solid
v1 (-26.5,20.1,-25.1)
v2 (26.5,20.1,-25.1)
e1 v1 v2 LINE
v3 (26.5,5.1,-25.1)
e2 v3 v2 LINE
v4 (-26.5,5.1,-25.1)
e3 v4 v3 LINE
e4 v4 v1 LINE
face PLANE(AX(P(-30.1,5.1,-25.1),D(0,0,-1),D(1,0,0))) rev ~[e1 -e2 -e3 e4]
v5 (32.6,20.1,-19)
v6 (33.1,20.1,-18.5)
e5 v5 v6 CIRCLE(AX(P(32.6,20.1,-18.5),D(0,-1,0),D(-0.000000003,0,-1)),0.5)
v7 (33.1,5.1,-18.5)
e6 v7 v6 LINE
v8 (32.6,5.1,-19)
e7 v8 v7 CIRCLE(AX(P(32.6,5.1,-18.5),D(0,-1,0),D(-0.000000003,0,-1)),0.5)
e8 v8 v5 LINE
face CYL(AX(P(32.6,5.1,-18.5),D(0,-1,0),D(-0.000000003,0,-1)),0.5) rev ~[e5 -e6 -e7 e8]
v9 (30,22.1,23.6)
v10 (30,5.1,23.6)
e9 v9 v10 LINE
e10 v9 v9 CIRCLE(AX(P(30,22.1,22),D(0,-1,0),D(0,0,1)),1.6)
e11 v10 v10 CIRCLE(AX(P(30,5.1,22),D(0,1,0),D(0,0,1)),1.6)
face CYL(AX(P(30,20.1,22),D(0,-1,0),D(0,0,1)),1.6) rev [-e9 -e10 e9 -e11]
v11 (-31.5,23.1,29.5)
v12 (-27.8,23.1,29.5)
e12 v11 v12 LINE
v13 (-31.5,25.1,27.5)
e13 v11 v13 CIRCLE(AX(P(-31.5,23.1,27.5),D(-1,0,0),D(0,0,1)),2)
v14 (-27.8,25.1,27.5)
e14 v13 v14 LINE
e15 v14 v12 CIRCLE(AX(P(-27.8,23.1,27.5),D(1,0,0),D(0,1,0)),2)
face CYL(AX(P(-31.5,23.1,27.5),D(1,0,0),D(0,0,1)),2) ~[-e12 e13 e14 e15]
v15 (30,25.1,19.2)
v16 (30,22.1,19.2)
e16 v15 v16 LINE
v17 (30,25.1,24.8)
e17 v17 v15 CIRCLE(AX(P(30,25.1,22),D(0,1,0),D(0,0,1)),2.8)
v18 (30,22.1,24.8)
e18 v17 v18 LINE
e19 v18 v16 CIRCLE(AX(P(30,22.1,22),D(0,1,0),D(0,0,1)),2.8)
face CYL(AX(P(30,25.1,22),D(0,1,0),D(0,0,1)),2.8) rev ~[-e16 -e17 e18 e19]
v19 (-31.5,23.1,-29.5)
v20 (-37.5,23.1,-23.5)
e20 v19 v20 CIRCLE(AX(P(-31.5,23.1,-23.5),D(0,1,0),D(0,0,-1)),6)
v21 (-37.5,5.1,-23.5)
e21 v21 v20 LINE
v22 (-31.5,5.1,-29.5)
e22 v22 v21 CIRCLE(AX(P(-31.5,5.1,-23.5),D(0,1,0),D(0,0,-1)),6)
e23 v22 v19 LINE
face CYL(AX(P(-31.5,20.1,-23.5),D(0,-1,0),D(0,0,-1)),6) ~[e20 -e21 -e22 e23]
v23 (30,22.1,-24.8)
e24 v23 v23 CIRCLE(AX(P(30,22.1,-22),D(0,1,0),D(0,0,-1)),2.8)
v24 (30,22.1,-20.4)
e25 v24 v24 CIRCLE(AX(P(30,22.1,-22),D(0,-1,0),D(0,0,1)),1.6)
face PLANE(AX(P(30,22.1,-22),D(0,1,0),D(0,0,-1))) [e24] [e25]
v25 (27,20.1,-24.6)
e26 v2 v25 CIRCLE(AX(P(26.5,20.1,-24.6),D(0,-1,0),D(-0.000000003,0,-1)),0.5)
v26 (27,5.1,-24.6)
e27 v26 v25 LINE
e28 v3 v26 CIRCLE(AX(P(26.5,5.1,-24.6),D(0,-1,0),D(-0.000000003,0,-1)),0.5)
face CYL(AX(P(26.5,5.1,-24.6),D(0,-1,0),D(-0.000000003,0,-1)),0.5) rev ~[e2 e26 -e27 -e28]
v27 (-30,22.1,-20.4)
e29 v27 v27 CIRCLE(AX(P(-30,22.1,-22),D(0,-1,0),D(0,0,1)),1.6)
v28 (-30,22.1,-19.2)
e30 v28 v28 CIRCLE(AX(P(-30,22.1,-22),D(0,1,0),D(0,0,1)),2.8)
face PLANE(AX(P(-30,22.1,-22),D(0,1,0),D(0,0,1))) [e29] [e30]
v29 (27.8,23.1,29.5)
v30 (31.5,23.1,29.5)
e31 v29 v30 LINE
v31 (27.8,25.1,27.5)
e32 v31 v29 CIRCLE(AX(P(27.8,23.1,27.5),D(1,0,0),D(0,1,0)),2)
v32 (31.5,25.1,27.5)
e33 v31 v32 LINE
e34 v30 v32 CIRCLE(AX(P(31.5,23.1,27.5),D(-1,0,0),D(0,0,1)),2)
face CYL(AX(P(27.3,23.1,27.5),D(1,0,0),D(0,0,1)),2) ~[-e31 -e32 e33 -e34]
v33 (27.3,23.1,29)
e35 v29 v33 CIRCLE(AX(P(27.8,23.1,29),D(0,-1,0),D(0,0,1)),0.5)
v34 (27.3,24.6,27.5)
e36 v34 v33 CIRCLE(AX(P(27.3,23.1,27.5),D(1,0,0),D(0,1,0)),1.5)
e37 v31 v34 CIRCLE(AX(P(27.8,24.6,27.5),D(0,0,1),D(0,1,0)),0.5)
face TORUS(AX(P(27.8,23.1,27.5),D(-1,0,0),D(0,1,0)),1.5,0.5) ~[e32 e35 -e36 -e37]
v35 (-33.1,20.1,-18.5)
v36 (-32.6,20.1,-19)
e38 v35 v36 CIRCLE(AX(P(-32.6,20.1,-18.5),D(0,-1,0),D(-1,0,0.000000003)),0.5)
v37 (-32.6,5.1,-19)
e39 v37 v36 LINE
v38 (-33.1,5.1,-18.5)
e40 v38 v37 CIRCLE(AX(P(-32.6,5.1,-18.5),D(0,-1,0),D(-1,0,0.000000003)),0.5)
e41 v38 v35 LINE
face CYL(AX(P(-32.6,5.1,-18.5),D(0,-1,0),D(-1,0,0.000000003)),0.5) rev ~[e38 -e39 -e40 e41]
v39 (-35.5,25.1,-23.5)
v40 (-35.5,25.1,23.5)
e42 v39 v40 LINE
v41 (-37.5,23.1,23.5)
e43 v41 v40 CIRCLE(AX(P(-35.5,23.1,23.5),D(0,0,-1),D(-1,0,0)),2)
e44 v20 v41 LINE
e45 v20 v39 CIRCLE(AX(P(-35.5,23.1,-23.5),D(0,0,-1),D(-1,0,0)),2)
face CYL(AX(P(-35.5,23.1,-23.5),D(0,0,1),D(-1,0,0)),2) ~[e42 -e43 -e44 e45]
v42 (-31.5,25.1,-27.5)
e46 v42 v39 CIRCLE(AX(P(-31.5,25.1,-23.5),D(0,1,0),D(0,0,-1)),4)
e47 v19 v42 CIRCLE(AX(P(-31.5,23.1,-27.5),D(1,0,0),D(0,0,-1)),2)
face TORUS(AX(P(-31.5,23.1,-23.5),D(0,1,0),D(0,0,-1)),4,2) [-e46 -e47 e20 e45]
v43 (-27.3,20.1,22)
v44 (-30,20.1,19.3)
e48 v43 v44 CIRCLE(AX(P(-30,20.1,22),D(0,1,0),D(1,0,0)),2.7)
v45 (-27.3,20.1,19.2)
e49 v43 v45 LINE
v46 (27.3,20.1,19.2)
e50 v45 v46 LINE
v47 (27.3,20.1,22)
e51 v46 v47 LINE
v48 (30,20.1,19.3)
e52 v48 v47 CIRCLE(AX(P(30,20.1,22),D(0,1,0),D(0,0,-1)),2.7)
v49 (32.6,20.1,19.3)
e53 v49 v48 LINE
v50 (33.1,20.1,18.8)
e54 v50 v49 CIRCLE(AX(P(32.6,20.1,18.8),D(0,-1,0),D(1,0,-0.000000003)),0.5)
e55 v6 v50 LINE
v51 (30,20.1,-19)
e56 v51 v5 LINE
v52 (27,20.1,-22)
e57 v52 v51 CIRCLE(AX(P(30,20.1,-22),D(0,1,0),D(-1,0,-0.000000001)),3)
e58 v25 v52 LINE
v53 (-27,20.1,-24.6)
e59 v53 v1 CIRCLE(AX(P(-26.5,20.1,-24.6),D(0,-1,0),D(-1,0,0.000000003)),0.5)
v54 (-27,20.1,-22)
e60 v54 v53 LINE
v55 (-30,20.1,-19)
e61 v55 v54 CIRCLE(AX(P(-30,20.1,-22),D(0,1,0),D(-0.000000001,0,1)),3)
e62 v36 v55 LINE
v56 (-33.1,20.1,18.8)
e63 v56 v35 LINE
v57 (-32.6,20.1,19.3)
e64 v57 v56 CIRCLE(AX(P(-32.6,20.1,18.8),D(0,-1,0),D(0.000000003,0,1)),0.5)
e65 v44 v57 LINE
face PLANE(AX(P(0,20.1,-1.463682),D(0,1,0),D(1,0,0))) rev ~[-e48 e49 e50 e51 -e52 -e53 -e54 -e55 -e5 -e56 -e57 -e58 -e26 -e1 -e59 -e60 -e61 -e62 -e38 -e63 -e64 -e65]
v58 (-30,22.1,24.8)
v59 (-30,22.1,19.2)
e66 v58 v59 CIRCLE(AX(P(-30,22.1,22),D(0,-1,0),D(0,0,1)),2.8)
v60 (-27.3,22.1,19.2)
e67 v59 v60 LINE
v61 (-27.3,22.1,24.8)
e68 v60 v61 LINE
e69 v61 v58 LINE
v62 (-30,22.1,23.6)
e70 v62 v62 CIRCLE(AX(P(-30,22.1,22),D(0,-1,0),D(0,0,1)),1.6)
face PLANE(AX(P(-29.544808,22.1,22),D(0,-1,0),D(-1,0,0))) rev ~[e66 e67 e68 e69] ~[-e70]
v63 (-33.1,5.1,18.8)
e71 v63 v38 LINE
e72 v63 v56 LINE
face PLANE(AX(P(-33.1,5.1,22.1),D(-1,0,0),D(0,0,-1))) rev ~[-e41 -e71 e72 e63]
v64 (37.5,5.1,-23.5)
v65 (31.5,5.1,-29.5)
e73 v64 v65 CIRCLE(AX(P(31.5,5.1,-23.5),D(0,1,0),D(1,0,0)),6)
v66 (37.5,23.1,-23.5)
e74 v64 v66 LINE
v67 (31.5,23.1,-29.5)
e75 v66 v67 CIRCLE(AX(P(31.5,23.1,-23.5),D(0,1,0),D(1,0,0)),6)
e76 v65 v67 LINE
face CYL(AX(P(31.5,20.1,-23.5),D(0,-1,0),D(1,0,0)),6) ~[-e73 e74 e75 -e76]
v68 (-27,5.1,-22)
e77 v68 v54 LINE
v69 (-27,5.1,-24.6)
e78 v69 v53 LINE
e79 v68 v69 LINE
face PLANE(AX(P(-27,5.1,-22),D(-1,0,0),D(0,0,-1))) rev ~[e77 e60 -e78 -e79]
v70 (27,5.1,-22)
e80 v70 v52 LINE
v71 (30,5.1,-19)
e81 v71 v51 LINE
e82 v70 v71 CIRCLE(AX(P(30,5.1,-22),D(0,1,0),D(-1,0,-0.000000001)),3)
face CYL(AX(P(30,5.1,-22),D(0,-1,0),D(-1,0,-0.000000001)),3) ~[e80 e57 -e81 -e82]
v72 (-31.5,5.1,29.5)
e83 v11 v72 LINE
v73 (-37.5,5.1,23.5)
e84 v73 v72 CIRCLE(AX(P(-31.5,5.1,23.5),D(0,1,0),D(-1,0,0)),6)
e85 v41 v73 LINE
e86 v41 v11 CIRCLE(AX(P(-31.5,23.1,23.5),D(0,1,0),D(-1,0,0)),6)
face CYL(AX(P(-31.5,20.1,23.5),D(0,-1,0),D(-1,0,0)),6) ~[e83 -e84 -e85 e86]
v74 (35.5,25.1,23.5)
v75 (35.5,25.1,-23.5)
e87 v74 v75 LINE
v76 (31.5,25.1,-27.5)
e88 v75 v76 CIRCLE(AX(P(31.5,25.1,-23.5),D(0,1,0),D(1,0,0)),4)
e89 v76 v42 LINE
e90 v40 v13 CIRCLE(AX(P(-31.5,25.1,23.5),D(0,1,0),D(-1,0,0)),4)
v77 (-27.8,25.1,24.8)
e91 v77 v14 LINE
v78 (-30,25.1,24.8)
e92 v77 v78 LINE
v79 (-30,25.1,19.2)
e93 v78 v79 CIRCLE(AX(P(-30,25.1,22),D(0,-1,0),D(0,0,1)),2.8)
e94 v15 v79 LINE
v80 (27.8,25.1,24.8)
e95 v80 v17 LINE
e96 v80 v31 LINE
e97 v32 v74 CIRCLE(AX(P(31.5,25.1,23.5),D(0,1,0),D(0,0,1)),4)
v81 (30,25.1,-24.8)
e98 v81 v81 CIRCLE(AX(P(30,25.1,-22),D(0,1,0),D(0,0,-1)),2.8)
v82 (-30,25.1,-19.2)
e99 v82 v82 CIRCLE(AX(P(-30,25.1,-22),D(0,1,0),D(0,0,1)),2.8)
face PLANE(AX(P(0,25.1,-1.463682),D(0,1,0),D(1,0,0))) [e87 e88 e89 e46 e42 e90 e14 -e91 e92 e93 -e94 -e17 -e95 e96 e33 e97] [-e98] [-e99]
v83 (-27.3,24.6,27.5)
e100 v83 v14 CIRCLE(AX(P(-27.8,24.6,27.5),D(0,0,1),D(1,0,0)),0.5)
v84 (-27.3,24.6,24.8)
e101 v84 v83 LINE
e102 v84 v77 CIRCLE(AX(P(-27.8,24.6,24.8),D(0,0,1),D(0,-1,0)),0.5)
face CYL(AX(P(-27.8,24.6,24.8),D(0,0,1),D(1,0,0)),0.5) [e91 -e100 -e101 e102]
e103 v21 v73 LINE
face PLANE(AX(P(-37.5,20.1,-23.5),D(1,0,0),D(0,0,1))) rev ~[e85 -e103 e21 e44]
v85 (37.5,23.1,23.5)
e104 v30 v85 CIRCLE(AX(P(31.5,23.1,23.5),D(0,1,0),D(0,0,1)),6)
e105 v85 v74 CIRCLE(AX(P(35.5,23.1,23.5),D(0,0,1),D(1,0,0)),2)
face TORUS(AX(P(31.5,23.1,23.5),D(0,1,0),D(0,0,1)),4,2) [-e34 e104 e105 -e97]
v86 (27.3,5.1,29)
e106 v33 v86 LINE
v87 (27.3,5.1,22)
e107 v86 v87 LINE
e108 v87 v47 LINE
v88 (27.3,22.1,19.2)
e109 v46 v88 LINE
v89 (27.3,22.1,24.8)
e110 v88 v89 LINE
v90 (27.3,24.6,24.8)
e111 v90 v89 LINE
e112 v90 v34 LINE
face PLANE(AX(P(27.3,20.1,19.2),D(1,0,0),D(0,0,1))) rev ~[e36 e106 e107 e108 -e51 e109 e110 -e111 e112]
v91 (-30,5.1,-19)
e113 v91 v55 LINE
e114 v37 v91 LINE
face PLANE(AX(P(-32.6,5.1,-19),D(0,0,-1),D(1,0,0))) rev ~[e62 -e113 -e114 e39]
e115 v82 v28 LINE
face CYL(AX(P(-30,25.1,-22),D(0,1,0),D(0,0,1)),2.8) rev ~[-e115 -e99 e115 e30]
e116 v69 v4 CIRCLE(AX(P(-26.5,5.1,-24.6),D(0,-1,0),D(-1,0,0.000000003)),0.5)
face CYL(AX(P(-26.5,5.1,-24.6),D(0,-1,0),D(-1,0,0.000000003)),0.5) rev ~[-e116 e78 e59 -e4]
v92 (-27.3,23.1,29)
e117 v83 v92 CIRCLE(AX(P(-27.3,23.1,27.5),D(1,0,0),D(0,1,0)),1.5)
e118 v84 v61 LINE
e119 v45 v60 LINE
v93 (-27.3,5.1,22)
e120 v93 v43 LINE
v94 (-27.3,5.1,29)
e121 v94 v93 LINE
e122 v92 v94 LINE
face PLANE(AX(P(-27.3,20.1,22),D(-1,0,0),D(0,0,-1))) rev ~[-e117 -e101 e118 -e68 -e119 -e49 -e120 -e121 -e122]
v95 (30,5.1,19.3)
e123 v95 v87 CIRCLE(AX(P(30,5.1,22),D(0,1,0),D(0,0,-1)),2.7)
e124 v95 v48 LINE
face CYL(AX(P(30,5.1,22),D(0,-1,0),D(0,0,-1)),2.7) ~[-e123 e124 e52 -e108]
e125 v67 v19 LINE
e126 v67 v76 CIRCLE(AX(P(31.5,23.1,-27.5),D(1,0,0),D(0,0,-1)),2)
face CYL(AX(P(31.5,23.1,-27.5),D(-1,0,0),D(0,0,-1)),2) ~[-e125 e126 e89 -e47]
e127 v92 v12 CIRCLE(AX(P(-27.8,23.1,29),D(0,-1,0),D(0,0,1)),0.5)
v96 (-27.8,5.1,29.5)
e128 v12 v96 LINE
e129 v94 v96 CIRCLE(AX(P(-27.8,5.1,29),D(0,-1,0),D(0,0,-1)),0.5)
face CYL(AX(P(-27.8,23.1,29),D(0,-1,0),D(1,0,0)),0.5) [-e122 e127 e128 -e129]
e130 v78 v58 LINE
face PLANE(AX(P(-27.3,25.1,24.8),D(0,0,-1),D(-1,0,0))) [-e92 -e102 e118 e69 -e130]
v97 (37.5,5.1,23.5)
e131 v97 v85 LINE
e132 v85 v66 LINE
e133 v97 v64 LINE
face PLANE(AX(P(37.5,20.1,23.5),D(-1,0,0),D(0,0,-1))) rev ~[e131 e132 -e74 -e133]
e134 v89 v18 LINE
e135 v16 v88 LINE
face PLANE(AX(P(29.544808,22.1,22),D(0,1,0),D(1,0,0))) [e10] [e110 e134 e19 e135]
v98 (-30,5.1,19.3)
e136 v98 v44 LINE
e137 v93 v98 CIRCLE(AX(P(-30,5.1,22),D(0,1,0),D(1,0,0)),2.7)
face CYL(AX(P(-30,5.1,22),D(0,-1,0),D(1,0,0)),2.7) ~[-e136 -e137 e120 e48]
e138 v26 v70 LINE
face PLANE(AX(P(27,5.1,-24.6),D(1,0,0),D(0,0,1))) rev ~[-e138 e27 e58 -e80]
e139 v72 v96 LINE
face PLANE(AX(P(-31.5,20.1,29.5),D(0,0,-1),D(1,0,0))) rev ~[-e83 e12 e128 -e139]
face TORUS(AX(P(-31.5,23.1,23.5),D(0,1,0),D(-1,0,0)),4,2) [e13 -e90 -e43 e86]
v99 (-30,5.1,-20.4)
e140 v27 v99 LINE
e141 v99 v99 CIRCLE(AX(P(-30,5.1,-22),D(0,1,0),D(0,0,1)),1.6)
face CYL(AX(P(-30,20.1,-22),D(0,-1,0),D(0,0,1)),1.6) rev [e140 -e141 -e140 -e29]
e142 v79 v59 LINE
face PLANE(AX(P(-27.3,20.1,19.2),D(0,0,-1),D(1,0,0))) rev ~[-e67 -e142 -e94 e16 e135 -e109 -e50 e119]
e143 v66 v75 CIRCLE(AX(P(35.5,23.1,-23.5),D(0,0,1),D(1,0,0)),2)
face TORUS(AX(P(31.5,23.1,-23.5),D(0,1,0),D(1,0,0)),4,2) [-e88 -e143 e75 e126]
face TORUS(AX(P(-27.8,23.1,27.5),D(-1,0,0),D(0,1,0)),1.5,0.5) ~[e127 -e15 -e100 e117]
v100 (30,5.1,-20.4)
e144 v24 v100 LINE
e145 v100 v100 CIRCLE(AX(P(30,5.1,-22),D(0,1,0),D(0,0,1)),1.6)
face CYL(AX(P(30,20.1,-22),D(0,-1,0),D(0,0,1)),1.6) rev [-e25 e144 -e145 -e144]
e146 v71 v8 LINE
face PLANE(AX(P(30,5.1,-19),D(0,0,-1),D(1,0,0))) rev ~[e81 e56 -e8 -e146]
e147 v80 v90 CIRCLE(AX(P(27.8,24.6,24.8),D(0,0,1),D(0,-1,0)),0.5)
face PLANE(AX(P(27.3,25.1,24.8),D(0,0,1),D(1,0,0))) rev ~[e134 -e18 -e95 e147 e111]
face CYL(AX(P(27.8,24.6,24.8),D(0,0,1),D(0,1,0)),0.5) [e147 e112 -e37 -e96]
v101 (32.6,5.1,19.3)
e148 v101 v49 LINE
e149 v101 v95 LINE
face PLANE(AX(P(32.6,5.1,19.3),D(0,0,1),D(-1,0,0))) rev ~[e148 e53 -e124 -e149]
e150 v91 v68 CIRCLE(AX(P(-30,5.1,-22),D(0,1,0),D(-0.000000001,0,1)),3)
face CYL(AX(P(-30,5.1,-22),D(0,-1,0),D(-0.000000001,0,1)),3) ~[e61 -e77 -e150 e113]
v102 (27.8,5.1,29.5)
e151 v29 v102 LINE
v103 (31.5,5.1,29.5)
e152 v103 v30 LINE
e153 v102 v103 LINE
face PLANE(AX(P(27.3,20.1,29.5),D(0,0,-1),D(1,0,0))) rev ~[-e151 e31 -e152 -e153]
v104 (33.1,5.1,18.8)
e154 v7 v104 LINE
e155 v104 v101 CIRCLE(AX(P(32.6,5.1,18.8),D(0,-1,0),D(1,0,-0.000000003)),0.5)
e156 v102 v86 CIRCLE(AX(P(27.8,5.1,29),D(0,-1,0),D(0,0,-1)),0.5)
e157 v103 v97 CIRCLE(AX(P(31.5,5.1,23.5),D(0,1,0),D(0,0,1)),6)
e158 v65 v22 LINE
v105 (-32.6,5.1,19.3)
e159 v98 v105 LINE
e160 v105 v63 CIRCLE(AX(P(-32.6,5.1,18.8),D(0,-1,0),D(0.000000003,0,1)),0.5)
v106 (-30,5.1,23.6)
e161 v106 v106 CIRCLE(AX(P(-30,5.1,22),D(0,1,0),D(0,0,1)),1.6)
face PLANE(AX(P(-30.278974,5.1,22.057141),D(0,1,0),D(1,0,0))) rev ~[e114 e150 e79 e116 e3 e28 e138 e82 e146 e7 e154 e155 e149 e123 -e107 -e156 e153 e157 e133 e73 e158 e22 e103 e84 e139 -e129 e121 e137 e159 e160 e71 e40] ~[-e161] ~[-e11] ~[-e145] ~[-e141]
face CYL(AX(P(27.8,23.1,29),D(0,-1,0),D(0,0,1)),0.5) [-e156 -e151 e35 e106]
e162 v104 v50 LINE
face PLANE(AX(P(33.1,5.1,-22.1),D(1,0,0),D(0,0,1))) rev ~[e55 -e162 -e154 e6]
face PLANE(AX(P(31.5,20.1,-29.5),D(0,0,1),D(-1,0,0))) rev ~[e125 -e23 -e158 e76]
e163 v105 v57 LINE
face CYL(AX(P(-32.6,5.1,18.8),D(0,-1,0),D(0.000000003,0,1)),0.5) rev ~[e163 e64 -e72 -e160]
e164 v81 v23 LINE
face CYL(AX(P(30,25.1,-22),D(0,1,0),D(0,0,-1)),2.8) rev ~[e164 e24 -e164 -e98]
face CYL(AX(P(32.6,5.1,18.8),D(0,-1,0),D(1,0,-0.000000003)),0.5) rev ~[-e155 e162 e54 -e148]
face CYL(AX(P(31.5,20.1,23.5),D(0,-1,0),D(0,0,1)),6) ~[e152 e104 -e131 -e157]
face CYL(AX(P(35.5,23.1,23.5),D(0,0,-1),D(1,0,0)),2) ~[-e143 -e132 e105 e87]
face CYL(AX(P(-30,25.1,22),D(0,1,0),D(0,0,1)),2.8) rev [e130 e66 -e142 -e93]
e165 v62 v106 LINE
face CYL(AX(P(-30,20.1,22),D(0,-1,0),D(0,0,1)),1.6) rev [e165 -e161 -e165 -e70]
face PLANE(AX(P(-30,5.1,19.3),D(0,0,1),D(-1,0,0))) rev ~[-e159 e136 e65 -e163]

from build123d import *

# Parameters (mm, degrees)
SKETCH2_R           = 1.6
BOSS_EXTRUDE1_DEPTH = 15
SKETCH3_R           = 1.6
BOSS_EXTRUDE2_DEPTH = 5
SKETCH4_R           = 2.8
CUT_EXTRUDE1_DEPTH  = 3
FILLET3_R           = 2
FILLET4_R           = 0.5


with BuildPart() as part:
    # Sketch2 → Boss-Extrude1 (new body)
    # profile 1 of 5: a face of its own
    with BuildSketch(Plane(origin=(0, 5.1, 0), x_dir=(1, 0, 0), z_dir=(0, 1, 0))):
        with BuildLine():
            Line((-27.3, -29.5), (-27.3, -25.1))
            Line((-27.3, -25.1), (-30.1, -25.1))
            ThreePointArc((-30.1, -25.1), (-32.221320344, -24.221320344), (-33.1, -22.1))
            Line((-33.1, -22.1), (-33.1, -18.8))
            Line((-33.1, -18.8), (-33.1, 18.5))
            Line((-33.1, 18.5), (-33.1, 22.1))
            ThreePointArc((-33.1, 22.1), (-32.221320344, 24.221320344), (-30.1, 25.1))
            Line((-30.1, 25.1), (-26.5, 25.1))
            Line((-26.5, 25.1), (26.5, 25.1))
            Line((26.5, 25.1), (30.1, 25.1))
            ThreePointArc((30.1, 25.1), (32.221320344, 24.221320344), (33.1, 22.1))
            Line((33.1, 22.1), (33.1, 18.5))
            Line((33.1, 18.5), (33.1, -18.8))
            Line((33.1, -18.8), (33.1, -22.1))
            ThreePointArc((33.1, -22.1), (32.221320344, -24.221320344), (30.1, -25.1))
            Line((30.1, -25.1), (27.3, -25.1))
            Line((27.3, -25.1), (27.3, -29.5))
            Line((27.3, -29.5), (31.5, -29.5))
            ThreePointArc((31.5, -29.5), (35.742640687, -27.742640687), (37.5, -23.5))
            Line((37.5, -23.5), (37.5, 23.5))
            ThreePointArc((37.5, 23.5), (35.742640687, 27.742640687), (31.5, 29.5))
            Line((31.5, 29.5), (-31.5, 29.5))
            ThreePointArc((-31.5, 29.5), (-35.742640687, 27.742640687), (-37.5, 23.5))
            Line((-37.5, 23.5), (-37.5, -23.5))
            ThreePointArc((-37.5, -23.5), (-35.742640687, -27.742640687), (-31.5, -29.5))
            Line((-31.5, -29.5), (-27.3, -29.5))
        make_face()
    # profile 2 of 5: a face of its own
    with BuildSketch(Plane(origin=(0, 5.1, 0), x_dir=(1, 0, 0), z_dir=(0, 1, 0))):
        with BuildLine():
            Line((-33.1, 22.1), (-33.1, 18.5))
            ThreePointArc((-33.1, 18.5), (-32.953553391, 18.853553391), (-32.6, 19))
            Line((-32.6, 19), (-30, 19))
            ThreePointArc((-30, 19), (-27.878679656, 19.878679656), (-27, 22))
            Line((-27, 22), (-27, 24.6))
            ThreePointArc((-27, 24.6), (-26.853553391, 24.953553391), (-26.5, 25.1))
            Line((-26.5, 25.1), (-30.1, 25.1))
            ThreePointArc((-30.1, 25.1), (-32.221320344, 24.221320344), (-33.1, 22.1))
        make_face()
        with Locations(Location((-30, 22, 0), (0, 0, 270))):
            Circle(SKETCH2_R, mode=Mode.SUBTRACT)
    # profile 3 of 5: a face of its own
    with BuildSketch(Plane(origin=(0, 5.1, 0), x_dir=(1, 0, 0), z_dir=(0, 1, 0))):
        with BuildLine():
            ThreePointArc((32.6, 19), (32.953553391, 18.853553391), (33.1, 18.5))
            Line((33.1, 18.5), (33.1, 22.1))
            ThreePointArc((33.1, 22.1), (32.221320344, 24.221320344), (30.1, 25.1))
            Line((30.1, 25.1), (26.5, 25.1))
            ThreePointArc((26.5, 25.1), (26.853553391, 24.953553391), (27, 24.6))
            Line((27, 24.6), (27, 22))
            ThreePointArc((27, 22), (27.878679656, 19.878679656), (30, 19))
            Line((30, 19), (32.6, 19))
        make_face()
        with Locations(Location((30, 22, 0), (0, 0, 270))):
            Circle(SKETCH2_R, mode=Mode.SUBTRACT)
    # profile 4 of 5: a face of its own
    with BuildSketch(Plane(origin=(0, 5.1, 0), x_dir=(1, 0, 0), z_dir=(0, 1, 0))):
        with BuildLine():
            Line((27.3, -22), (27.3, -25.1))
            Line((27.3, -25.1), (30.1, -25.1))
            ThreePointArc((30.1, -25.1), (32.221320344, -24.221320344), (33.1, -22.1))
            Line((33.1, -22.1), (33.1, -18.8))
            ThreePointArc((33.1, -18.8), (32.953553391, -19.153553391), (32.6, -19.3))
            Line((32.6, -19.3), (30, -19.3))
            ThreePointArc((30, -19.3), (28.090811691, -20.090811691), (27.3, -22))
        make_face()
        with Locations(Location((30, -22, 0), (0, 0, 270))):
            Circle(SKETCH2_R, mode=Mode.SUBTRACT)
    # profile 5 of 5: a face of its own
    with BuildSketch(Plane(origin=(0, 5.1, 0), x_dir=(1, 0, 0), z_dir=(0, 1, 0))):
        with BuildLine():
            Line((-27.3, -25.1), (-27.3, -22))
            ThreePointArc((-27.3, -22), (-28.090811691, -20.090811691), (-30, -19.3))
            Line((-30, -19.3), (-32.6, -19.3))
            ThreePointArc((-32.6, -19.3), (-32.953553391, -19.153553391), (-33.1, -18.8))
            Line((-33.1, -18.8), (-33.1, -22.1))
            ThreePointArc((-33.1, -22.1), (-32.221320344, -24.221320344), (-30.1, -25.1))
            Line((-30.1, -25.1), (-27.3, -25.1))
        make_face()
        with Locations(Location((-30, -22, 0), (0, 0, 270))):
            Circle(SKETCH2_R, mode=Mode.SUBTRACT)
    extrude(amount=BOSS_EXTRUDE1_DEPTH)

    # Sketch3 → Boss-Extrude2 (add)
    # profile 1 of 2: a face of its own
    with BuildSketch(Plane(origin=(0, 20.1, 0), x_dir=(1, 0, 0), z_dir=(0, 1, 0))):
        with BuildLine():
            ThreePointArc((-30, -19.3), (-28.090811691, -20.090811691), (-27.3, -22))
            Line((-27.3, -22), (-27.3, -19.2))
            Line((-27.3, -19.2), (27.3, -19.2))
            Line((27.3, -19.2), (27.3, -22))
            ThreePointArc((27.3, -22), (28.090811691, -20.090811691), (30, -19.3))
            Line((30, -19.3), (32.6, -19.3))
            ThreePointArc((32.6, -19.3), (32.953553391, -19.153553391), (33.1, -18.8))
            Line((33.1, -18.8), (33.1, 18.5))
            ThreePointArc((33.1, 18.5), (32.953553391, 18.853553391), (32.6, 19))
            Line((32.6, 19), (30, 19))
            ThreePointArc((30, 19), (27.878679656, 19.878679656), (27, 22))
            Line((27, 22), (27, 24.6))
            ThreePointArc((27, 24.6), (26.853553391, 24.953553391), (26.5, 25.1))
            Line((26.5, 25.1), (-26.5, 25.1))
            ThreePointArc((-26.5, 25.1), (-26.853553391, 24.953553391), (-27, 24.6))
            Line((-27, 24.6), (-27, 22))
            ThreePointArc((-27, 22), (-27.878679656, 19.878679656), (-30, 19))
            Line((-30, 19), (-32.6, 19))
            ThreePointArc((-32.6, 19), (-32.953553391, 18.853553391), (-33.1, 18.5))
            Line((-33.1, 18.5), (-33.1, -18.8))
            ThreePointArc((-33.1, -18.8), (-32.953553391, -19.153553391), (-32.6, -19.3))
            Line((-32.6, -19.3), (-30, -19.3))
        make_face()
    # profile 2 of 2: a face of its own
    with BuildSketch(Plane(origin=(0, 20.1, 0), x_dir=(1, 0, 0), z_dir=(0, 1, 0))):
        with BuildLine():
            Line((32.6, -19.3), (30, -19.3))
            ThreePointArc((30, -19.3), (28.090811691, -20.090811691), (27.3, -22))
            Line((27.3, -22), (27.3, -29.5))
            Line((27.3, -29.5), (31.5, -29.5))
            ThreePointArc((31.5, -29.5), (35.742640687, -27.742640687), (37.5, -23.5))
            Line((37.5, -23.5), (37.5, 23.5))
            ThreePointArc((37.5, 23.5), (35.742640687, 27.742640687), (31.5, 29.5))
            Line((31.5, 29.5), (-31.5, 29.5))
            ThreePointArc((-31.5, 29.5), (-35.742640687, 27.742640687), (-37.5, 23.5))
            Line((-37.5, 23.5), (-37.5, -23.5))
            ThreePointArc((-37.5, -23.5), (-35.742640687, -27.742640687), (-31.5, -29.5))
            Line((-31.5, -29.5), (-27.3, -29.5))
            Line((-27.3, -29.5), (-27.3, -22))
            ThreePointArc((-27.3, -22), (-28.090811691, -20.090811691), (-30, -19.3))
            Line((-30, -19.3), (-32.6, -19.3))
            ThreePointArc((-32.6, -19.3), (-32.953553391, -19.153553391), (-33.1, -18.8))
            Line((-33.1, -18.8), (-33.1, 18.5))
            ThreePointArc((-33.1, 18.5), (-32.953553391, 18.853553391), (-32.6, 19))
            Line((-32.6, 19), (-30, 19))
            ThreePointArc((-30, 19), (-27.878679656, 19.878679656), (-27, 22))
            Line((-27, 22), (-27, 24.6))
            ThreePointArc((-27, 24.6), (-26.853553391, 24.953553391), (-26.5, 25.1))
            Line((-26.5, 25.1), (26.5, 25.1))
            ThreePointArc((26.5, 25.1), (26.853553391, 24.953553391), (27, 24.6))
            Line((27, 24.6), (27, 22))
            ThreePointArc((27, 22), (27.878679656, 19.878679656), (30, 19))
            Line((30, 19), (32.6, 19))
            ThreePointArc((32.6, 19), (32.953553391, 18.853553391), (33.1, 18.5))
            Line((33.1, 18.5), (33.1, -18.8))
            ThreePointArc((33.1, -18.8), (32.953553391, -19.153553391), (32.6, -19.3))
        make_face()
        with Locations(Location((30, -22, 0), (0, 0, 270))):
            Circle(SKETCH3_R, mode=Mode.SUBTRACT)
        with Locations(Location((-30, 22, 0), (0, 0, 270))):
            Circle(SKETCH3_R, mode=Mode.SUBTRACT)
        with Locations(Location((-30, -22, 0), (0, 0, 270))):
            Circle(SKETCH3_R, mode=Mode.SUBTRACT)
        with Locations(Location((30, 22, 0), (0, 0, 270))):
            Circle(SKETCH3_R, mode=Mode.SUBTRACT)
    extrude(amount=BOSS_EXTRUDE2_DEPTH)

    # Sketch4 → Cut-Extrude1 (cut)
    with BuildSketch(Plane(origin=(0, 25.1, 0), x_dir=(1, 0, 0), z_dir=(0, 1, 0))):
        with Locations(Location((-30, 22, 0), (0, 0, 270))):
            Circle(SKETCH4_R)
        with Locations(Location((30, 22, 0), (0, 0, 90))):
            Circle(SKETCH4_R)
        with BuildLine():
            Line((-30, -19.2), (-27.3, -19.2))
            Line((-27.3, -19.2), (-27.3, -24.8))
            Line((-27.3, -24.8), (-30, -24.8))
            ThreePointArc((-30, -24.8), (-32.8, -22), (-30, -19.2))
        make_face()
        with BuildLine():
            Line((27.3, -19.2), (27.3, -24.8))
            Line((27.3, -24.8), (30, -24.8))
            ThreePointArc((30, -24.8), (32.8, -22), (30, -19.2))
            Line((30, -19.2), (27.3, -19.2))
        make_face()
    extrude(amount=-CUT_EXTRUDE1_DEPTH, mode=Mode.SUBTRACT)

    # Fillet3
    fillet3_edges = [part.edges().sort_by_distance(p)[0] for p in [
        (29.4, 25.1, 29.5),
        (35.742640687, 25.1, 27.742640687),
        (37.5, 25.1, 0),
        (35.742640687, 25.1, -27.742640687),
        (0, 25.1, -29.5),
        (-35.742640687, 25.1, -27.742640687),
        (-37.5, 25.1, 0),
        (-35.742640687, 25.1, 27.742640687),
        (-29.4, 25.1, 29.5),
    ]]
    fillet(fillet3_edges, radius=FILLET3_R)

    # Fillet4
    fillet4_edges = [part.edges().sort_by_distance(p)[0] for p in [
        (27.3, 25.1, 26.15),
        (-27.3, 25.1, 26.15),
        (27.3, 14.1, 29.5),
        (27.3, 24.514213562, 28.914213562),
        (-27.3, 14.1, 29.5),
        (-27.3, 24.514213562, 28.914213562),
    ]]
    fillet(fillet4_edges, radius=FILLET4_R)


solid = part.part
